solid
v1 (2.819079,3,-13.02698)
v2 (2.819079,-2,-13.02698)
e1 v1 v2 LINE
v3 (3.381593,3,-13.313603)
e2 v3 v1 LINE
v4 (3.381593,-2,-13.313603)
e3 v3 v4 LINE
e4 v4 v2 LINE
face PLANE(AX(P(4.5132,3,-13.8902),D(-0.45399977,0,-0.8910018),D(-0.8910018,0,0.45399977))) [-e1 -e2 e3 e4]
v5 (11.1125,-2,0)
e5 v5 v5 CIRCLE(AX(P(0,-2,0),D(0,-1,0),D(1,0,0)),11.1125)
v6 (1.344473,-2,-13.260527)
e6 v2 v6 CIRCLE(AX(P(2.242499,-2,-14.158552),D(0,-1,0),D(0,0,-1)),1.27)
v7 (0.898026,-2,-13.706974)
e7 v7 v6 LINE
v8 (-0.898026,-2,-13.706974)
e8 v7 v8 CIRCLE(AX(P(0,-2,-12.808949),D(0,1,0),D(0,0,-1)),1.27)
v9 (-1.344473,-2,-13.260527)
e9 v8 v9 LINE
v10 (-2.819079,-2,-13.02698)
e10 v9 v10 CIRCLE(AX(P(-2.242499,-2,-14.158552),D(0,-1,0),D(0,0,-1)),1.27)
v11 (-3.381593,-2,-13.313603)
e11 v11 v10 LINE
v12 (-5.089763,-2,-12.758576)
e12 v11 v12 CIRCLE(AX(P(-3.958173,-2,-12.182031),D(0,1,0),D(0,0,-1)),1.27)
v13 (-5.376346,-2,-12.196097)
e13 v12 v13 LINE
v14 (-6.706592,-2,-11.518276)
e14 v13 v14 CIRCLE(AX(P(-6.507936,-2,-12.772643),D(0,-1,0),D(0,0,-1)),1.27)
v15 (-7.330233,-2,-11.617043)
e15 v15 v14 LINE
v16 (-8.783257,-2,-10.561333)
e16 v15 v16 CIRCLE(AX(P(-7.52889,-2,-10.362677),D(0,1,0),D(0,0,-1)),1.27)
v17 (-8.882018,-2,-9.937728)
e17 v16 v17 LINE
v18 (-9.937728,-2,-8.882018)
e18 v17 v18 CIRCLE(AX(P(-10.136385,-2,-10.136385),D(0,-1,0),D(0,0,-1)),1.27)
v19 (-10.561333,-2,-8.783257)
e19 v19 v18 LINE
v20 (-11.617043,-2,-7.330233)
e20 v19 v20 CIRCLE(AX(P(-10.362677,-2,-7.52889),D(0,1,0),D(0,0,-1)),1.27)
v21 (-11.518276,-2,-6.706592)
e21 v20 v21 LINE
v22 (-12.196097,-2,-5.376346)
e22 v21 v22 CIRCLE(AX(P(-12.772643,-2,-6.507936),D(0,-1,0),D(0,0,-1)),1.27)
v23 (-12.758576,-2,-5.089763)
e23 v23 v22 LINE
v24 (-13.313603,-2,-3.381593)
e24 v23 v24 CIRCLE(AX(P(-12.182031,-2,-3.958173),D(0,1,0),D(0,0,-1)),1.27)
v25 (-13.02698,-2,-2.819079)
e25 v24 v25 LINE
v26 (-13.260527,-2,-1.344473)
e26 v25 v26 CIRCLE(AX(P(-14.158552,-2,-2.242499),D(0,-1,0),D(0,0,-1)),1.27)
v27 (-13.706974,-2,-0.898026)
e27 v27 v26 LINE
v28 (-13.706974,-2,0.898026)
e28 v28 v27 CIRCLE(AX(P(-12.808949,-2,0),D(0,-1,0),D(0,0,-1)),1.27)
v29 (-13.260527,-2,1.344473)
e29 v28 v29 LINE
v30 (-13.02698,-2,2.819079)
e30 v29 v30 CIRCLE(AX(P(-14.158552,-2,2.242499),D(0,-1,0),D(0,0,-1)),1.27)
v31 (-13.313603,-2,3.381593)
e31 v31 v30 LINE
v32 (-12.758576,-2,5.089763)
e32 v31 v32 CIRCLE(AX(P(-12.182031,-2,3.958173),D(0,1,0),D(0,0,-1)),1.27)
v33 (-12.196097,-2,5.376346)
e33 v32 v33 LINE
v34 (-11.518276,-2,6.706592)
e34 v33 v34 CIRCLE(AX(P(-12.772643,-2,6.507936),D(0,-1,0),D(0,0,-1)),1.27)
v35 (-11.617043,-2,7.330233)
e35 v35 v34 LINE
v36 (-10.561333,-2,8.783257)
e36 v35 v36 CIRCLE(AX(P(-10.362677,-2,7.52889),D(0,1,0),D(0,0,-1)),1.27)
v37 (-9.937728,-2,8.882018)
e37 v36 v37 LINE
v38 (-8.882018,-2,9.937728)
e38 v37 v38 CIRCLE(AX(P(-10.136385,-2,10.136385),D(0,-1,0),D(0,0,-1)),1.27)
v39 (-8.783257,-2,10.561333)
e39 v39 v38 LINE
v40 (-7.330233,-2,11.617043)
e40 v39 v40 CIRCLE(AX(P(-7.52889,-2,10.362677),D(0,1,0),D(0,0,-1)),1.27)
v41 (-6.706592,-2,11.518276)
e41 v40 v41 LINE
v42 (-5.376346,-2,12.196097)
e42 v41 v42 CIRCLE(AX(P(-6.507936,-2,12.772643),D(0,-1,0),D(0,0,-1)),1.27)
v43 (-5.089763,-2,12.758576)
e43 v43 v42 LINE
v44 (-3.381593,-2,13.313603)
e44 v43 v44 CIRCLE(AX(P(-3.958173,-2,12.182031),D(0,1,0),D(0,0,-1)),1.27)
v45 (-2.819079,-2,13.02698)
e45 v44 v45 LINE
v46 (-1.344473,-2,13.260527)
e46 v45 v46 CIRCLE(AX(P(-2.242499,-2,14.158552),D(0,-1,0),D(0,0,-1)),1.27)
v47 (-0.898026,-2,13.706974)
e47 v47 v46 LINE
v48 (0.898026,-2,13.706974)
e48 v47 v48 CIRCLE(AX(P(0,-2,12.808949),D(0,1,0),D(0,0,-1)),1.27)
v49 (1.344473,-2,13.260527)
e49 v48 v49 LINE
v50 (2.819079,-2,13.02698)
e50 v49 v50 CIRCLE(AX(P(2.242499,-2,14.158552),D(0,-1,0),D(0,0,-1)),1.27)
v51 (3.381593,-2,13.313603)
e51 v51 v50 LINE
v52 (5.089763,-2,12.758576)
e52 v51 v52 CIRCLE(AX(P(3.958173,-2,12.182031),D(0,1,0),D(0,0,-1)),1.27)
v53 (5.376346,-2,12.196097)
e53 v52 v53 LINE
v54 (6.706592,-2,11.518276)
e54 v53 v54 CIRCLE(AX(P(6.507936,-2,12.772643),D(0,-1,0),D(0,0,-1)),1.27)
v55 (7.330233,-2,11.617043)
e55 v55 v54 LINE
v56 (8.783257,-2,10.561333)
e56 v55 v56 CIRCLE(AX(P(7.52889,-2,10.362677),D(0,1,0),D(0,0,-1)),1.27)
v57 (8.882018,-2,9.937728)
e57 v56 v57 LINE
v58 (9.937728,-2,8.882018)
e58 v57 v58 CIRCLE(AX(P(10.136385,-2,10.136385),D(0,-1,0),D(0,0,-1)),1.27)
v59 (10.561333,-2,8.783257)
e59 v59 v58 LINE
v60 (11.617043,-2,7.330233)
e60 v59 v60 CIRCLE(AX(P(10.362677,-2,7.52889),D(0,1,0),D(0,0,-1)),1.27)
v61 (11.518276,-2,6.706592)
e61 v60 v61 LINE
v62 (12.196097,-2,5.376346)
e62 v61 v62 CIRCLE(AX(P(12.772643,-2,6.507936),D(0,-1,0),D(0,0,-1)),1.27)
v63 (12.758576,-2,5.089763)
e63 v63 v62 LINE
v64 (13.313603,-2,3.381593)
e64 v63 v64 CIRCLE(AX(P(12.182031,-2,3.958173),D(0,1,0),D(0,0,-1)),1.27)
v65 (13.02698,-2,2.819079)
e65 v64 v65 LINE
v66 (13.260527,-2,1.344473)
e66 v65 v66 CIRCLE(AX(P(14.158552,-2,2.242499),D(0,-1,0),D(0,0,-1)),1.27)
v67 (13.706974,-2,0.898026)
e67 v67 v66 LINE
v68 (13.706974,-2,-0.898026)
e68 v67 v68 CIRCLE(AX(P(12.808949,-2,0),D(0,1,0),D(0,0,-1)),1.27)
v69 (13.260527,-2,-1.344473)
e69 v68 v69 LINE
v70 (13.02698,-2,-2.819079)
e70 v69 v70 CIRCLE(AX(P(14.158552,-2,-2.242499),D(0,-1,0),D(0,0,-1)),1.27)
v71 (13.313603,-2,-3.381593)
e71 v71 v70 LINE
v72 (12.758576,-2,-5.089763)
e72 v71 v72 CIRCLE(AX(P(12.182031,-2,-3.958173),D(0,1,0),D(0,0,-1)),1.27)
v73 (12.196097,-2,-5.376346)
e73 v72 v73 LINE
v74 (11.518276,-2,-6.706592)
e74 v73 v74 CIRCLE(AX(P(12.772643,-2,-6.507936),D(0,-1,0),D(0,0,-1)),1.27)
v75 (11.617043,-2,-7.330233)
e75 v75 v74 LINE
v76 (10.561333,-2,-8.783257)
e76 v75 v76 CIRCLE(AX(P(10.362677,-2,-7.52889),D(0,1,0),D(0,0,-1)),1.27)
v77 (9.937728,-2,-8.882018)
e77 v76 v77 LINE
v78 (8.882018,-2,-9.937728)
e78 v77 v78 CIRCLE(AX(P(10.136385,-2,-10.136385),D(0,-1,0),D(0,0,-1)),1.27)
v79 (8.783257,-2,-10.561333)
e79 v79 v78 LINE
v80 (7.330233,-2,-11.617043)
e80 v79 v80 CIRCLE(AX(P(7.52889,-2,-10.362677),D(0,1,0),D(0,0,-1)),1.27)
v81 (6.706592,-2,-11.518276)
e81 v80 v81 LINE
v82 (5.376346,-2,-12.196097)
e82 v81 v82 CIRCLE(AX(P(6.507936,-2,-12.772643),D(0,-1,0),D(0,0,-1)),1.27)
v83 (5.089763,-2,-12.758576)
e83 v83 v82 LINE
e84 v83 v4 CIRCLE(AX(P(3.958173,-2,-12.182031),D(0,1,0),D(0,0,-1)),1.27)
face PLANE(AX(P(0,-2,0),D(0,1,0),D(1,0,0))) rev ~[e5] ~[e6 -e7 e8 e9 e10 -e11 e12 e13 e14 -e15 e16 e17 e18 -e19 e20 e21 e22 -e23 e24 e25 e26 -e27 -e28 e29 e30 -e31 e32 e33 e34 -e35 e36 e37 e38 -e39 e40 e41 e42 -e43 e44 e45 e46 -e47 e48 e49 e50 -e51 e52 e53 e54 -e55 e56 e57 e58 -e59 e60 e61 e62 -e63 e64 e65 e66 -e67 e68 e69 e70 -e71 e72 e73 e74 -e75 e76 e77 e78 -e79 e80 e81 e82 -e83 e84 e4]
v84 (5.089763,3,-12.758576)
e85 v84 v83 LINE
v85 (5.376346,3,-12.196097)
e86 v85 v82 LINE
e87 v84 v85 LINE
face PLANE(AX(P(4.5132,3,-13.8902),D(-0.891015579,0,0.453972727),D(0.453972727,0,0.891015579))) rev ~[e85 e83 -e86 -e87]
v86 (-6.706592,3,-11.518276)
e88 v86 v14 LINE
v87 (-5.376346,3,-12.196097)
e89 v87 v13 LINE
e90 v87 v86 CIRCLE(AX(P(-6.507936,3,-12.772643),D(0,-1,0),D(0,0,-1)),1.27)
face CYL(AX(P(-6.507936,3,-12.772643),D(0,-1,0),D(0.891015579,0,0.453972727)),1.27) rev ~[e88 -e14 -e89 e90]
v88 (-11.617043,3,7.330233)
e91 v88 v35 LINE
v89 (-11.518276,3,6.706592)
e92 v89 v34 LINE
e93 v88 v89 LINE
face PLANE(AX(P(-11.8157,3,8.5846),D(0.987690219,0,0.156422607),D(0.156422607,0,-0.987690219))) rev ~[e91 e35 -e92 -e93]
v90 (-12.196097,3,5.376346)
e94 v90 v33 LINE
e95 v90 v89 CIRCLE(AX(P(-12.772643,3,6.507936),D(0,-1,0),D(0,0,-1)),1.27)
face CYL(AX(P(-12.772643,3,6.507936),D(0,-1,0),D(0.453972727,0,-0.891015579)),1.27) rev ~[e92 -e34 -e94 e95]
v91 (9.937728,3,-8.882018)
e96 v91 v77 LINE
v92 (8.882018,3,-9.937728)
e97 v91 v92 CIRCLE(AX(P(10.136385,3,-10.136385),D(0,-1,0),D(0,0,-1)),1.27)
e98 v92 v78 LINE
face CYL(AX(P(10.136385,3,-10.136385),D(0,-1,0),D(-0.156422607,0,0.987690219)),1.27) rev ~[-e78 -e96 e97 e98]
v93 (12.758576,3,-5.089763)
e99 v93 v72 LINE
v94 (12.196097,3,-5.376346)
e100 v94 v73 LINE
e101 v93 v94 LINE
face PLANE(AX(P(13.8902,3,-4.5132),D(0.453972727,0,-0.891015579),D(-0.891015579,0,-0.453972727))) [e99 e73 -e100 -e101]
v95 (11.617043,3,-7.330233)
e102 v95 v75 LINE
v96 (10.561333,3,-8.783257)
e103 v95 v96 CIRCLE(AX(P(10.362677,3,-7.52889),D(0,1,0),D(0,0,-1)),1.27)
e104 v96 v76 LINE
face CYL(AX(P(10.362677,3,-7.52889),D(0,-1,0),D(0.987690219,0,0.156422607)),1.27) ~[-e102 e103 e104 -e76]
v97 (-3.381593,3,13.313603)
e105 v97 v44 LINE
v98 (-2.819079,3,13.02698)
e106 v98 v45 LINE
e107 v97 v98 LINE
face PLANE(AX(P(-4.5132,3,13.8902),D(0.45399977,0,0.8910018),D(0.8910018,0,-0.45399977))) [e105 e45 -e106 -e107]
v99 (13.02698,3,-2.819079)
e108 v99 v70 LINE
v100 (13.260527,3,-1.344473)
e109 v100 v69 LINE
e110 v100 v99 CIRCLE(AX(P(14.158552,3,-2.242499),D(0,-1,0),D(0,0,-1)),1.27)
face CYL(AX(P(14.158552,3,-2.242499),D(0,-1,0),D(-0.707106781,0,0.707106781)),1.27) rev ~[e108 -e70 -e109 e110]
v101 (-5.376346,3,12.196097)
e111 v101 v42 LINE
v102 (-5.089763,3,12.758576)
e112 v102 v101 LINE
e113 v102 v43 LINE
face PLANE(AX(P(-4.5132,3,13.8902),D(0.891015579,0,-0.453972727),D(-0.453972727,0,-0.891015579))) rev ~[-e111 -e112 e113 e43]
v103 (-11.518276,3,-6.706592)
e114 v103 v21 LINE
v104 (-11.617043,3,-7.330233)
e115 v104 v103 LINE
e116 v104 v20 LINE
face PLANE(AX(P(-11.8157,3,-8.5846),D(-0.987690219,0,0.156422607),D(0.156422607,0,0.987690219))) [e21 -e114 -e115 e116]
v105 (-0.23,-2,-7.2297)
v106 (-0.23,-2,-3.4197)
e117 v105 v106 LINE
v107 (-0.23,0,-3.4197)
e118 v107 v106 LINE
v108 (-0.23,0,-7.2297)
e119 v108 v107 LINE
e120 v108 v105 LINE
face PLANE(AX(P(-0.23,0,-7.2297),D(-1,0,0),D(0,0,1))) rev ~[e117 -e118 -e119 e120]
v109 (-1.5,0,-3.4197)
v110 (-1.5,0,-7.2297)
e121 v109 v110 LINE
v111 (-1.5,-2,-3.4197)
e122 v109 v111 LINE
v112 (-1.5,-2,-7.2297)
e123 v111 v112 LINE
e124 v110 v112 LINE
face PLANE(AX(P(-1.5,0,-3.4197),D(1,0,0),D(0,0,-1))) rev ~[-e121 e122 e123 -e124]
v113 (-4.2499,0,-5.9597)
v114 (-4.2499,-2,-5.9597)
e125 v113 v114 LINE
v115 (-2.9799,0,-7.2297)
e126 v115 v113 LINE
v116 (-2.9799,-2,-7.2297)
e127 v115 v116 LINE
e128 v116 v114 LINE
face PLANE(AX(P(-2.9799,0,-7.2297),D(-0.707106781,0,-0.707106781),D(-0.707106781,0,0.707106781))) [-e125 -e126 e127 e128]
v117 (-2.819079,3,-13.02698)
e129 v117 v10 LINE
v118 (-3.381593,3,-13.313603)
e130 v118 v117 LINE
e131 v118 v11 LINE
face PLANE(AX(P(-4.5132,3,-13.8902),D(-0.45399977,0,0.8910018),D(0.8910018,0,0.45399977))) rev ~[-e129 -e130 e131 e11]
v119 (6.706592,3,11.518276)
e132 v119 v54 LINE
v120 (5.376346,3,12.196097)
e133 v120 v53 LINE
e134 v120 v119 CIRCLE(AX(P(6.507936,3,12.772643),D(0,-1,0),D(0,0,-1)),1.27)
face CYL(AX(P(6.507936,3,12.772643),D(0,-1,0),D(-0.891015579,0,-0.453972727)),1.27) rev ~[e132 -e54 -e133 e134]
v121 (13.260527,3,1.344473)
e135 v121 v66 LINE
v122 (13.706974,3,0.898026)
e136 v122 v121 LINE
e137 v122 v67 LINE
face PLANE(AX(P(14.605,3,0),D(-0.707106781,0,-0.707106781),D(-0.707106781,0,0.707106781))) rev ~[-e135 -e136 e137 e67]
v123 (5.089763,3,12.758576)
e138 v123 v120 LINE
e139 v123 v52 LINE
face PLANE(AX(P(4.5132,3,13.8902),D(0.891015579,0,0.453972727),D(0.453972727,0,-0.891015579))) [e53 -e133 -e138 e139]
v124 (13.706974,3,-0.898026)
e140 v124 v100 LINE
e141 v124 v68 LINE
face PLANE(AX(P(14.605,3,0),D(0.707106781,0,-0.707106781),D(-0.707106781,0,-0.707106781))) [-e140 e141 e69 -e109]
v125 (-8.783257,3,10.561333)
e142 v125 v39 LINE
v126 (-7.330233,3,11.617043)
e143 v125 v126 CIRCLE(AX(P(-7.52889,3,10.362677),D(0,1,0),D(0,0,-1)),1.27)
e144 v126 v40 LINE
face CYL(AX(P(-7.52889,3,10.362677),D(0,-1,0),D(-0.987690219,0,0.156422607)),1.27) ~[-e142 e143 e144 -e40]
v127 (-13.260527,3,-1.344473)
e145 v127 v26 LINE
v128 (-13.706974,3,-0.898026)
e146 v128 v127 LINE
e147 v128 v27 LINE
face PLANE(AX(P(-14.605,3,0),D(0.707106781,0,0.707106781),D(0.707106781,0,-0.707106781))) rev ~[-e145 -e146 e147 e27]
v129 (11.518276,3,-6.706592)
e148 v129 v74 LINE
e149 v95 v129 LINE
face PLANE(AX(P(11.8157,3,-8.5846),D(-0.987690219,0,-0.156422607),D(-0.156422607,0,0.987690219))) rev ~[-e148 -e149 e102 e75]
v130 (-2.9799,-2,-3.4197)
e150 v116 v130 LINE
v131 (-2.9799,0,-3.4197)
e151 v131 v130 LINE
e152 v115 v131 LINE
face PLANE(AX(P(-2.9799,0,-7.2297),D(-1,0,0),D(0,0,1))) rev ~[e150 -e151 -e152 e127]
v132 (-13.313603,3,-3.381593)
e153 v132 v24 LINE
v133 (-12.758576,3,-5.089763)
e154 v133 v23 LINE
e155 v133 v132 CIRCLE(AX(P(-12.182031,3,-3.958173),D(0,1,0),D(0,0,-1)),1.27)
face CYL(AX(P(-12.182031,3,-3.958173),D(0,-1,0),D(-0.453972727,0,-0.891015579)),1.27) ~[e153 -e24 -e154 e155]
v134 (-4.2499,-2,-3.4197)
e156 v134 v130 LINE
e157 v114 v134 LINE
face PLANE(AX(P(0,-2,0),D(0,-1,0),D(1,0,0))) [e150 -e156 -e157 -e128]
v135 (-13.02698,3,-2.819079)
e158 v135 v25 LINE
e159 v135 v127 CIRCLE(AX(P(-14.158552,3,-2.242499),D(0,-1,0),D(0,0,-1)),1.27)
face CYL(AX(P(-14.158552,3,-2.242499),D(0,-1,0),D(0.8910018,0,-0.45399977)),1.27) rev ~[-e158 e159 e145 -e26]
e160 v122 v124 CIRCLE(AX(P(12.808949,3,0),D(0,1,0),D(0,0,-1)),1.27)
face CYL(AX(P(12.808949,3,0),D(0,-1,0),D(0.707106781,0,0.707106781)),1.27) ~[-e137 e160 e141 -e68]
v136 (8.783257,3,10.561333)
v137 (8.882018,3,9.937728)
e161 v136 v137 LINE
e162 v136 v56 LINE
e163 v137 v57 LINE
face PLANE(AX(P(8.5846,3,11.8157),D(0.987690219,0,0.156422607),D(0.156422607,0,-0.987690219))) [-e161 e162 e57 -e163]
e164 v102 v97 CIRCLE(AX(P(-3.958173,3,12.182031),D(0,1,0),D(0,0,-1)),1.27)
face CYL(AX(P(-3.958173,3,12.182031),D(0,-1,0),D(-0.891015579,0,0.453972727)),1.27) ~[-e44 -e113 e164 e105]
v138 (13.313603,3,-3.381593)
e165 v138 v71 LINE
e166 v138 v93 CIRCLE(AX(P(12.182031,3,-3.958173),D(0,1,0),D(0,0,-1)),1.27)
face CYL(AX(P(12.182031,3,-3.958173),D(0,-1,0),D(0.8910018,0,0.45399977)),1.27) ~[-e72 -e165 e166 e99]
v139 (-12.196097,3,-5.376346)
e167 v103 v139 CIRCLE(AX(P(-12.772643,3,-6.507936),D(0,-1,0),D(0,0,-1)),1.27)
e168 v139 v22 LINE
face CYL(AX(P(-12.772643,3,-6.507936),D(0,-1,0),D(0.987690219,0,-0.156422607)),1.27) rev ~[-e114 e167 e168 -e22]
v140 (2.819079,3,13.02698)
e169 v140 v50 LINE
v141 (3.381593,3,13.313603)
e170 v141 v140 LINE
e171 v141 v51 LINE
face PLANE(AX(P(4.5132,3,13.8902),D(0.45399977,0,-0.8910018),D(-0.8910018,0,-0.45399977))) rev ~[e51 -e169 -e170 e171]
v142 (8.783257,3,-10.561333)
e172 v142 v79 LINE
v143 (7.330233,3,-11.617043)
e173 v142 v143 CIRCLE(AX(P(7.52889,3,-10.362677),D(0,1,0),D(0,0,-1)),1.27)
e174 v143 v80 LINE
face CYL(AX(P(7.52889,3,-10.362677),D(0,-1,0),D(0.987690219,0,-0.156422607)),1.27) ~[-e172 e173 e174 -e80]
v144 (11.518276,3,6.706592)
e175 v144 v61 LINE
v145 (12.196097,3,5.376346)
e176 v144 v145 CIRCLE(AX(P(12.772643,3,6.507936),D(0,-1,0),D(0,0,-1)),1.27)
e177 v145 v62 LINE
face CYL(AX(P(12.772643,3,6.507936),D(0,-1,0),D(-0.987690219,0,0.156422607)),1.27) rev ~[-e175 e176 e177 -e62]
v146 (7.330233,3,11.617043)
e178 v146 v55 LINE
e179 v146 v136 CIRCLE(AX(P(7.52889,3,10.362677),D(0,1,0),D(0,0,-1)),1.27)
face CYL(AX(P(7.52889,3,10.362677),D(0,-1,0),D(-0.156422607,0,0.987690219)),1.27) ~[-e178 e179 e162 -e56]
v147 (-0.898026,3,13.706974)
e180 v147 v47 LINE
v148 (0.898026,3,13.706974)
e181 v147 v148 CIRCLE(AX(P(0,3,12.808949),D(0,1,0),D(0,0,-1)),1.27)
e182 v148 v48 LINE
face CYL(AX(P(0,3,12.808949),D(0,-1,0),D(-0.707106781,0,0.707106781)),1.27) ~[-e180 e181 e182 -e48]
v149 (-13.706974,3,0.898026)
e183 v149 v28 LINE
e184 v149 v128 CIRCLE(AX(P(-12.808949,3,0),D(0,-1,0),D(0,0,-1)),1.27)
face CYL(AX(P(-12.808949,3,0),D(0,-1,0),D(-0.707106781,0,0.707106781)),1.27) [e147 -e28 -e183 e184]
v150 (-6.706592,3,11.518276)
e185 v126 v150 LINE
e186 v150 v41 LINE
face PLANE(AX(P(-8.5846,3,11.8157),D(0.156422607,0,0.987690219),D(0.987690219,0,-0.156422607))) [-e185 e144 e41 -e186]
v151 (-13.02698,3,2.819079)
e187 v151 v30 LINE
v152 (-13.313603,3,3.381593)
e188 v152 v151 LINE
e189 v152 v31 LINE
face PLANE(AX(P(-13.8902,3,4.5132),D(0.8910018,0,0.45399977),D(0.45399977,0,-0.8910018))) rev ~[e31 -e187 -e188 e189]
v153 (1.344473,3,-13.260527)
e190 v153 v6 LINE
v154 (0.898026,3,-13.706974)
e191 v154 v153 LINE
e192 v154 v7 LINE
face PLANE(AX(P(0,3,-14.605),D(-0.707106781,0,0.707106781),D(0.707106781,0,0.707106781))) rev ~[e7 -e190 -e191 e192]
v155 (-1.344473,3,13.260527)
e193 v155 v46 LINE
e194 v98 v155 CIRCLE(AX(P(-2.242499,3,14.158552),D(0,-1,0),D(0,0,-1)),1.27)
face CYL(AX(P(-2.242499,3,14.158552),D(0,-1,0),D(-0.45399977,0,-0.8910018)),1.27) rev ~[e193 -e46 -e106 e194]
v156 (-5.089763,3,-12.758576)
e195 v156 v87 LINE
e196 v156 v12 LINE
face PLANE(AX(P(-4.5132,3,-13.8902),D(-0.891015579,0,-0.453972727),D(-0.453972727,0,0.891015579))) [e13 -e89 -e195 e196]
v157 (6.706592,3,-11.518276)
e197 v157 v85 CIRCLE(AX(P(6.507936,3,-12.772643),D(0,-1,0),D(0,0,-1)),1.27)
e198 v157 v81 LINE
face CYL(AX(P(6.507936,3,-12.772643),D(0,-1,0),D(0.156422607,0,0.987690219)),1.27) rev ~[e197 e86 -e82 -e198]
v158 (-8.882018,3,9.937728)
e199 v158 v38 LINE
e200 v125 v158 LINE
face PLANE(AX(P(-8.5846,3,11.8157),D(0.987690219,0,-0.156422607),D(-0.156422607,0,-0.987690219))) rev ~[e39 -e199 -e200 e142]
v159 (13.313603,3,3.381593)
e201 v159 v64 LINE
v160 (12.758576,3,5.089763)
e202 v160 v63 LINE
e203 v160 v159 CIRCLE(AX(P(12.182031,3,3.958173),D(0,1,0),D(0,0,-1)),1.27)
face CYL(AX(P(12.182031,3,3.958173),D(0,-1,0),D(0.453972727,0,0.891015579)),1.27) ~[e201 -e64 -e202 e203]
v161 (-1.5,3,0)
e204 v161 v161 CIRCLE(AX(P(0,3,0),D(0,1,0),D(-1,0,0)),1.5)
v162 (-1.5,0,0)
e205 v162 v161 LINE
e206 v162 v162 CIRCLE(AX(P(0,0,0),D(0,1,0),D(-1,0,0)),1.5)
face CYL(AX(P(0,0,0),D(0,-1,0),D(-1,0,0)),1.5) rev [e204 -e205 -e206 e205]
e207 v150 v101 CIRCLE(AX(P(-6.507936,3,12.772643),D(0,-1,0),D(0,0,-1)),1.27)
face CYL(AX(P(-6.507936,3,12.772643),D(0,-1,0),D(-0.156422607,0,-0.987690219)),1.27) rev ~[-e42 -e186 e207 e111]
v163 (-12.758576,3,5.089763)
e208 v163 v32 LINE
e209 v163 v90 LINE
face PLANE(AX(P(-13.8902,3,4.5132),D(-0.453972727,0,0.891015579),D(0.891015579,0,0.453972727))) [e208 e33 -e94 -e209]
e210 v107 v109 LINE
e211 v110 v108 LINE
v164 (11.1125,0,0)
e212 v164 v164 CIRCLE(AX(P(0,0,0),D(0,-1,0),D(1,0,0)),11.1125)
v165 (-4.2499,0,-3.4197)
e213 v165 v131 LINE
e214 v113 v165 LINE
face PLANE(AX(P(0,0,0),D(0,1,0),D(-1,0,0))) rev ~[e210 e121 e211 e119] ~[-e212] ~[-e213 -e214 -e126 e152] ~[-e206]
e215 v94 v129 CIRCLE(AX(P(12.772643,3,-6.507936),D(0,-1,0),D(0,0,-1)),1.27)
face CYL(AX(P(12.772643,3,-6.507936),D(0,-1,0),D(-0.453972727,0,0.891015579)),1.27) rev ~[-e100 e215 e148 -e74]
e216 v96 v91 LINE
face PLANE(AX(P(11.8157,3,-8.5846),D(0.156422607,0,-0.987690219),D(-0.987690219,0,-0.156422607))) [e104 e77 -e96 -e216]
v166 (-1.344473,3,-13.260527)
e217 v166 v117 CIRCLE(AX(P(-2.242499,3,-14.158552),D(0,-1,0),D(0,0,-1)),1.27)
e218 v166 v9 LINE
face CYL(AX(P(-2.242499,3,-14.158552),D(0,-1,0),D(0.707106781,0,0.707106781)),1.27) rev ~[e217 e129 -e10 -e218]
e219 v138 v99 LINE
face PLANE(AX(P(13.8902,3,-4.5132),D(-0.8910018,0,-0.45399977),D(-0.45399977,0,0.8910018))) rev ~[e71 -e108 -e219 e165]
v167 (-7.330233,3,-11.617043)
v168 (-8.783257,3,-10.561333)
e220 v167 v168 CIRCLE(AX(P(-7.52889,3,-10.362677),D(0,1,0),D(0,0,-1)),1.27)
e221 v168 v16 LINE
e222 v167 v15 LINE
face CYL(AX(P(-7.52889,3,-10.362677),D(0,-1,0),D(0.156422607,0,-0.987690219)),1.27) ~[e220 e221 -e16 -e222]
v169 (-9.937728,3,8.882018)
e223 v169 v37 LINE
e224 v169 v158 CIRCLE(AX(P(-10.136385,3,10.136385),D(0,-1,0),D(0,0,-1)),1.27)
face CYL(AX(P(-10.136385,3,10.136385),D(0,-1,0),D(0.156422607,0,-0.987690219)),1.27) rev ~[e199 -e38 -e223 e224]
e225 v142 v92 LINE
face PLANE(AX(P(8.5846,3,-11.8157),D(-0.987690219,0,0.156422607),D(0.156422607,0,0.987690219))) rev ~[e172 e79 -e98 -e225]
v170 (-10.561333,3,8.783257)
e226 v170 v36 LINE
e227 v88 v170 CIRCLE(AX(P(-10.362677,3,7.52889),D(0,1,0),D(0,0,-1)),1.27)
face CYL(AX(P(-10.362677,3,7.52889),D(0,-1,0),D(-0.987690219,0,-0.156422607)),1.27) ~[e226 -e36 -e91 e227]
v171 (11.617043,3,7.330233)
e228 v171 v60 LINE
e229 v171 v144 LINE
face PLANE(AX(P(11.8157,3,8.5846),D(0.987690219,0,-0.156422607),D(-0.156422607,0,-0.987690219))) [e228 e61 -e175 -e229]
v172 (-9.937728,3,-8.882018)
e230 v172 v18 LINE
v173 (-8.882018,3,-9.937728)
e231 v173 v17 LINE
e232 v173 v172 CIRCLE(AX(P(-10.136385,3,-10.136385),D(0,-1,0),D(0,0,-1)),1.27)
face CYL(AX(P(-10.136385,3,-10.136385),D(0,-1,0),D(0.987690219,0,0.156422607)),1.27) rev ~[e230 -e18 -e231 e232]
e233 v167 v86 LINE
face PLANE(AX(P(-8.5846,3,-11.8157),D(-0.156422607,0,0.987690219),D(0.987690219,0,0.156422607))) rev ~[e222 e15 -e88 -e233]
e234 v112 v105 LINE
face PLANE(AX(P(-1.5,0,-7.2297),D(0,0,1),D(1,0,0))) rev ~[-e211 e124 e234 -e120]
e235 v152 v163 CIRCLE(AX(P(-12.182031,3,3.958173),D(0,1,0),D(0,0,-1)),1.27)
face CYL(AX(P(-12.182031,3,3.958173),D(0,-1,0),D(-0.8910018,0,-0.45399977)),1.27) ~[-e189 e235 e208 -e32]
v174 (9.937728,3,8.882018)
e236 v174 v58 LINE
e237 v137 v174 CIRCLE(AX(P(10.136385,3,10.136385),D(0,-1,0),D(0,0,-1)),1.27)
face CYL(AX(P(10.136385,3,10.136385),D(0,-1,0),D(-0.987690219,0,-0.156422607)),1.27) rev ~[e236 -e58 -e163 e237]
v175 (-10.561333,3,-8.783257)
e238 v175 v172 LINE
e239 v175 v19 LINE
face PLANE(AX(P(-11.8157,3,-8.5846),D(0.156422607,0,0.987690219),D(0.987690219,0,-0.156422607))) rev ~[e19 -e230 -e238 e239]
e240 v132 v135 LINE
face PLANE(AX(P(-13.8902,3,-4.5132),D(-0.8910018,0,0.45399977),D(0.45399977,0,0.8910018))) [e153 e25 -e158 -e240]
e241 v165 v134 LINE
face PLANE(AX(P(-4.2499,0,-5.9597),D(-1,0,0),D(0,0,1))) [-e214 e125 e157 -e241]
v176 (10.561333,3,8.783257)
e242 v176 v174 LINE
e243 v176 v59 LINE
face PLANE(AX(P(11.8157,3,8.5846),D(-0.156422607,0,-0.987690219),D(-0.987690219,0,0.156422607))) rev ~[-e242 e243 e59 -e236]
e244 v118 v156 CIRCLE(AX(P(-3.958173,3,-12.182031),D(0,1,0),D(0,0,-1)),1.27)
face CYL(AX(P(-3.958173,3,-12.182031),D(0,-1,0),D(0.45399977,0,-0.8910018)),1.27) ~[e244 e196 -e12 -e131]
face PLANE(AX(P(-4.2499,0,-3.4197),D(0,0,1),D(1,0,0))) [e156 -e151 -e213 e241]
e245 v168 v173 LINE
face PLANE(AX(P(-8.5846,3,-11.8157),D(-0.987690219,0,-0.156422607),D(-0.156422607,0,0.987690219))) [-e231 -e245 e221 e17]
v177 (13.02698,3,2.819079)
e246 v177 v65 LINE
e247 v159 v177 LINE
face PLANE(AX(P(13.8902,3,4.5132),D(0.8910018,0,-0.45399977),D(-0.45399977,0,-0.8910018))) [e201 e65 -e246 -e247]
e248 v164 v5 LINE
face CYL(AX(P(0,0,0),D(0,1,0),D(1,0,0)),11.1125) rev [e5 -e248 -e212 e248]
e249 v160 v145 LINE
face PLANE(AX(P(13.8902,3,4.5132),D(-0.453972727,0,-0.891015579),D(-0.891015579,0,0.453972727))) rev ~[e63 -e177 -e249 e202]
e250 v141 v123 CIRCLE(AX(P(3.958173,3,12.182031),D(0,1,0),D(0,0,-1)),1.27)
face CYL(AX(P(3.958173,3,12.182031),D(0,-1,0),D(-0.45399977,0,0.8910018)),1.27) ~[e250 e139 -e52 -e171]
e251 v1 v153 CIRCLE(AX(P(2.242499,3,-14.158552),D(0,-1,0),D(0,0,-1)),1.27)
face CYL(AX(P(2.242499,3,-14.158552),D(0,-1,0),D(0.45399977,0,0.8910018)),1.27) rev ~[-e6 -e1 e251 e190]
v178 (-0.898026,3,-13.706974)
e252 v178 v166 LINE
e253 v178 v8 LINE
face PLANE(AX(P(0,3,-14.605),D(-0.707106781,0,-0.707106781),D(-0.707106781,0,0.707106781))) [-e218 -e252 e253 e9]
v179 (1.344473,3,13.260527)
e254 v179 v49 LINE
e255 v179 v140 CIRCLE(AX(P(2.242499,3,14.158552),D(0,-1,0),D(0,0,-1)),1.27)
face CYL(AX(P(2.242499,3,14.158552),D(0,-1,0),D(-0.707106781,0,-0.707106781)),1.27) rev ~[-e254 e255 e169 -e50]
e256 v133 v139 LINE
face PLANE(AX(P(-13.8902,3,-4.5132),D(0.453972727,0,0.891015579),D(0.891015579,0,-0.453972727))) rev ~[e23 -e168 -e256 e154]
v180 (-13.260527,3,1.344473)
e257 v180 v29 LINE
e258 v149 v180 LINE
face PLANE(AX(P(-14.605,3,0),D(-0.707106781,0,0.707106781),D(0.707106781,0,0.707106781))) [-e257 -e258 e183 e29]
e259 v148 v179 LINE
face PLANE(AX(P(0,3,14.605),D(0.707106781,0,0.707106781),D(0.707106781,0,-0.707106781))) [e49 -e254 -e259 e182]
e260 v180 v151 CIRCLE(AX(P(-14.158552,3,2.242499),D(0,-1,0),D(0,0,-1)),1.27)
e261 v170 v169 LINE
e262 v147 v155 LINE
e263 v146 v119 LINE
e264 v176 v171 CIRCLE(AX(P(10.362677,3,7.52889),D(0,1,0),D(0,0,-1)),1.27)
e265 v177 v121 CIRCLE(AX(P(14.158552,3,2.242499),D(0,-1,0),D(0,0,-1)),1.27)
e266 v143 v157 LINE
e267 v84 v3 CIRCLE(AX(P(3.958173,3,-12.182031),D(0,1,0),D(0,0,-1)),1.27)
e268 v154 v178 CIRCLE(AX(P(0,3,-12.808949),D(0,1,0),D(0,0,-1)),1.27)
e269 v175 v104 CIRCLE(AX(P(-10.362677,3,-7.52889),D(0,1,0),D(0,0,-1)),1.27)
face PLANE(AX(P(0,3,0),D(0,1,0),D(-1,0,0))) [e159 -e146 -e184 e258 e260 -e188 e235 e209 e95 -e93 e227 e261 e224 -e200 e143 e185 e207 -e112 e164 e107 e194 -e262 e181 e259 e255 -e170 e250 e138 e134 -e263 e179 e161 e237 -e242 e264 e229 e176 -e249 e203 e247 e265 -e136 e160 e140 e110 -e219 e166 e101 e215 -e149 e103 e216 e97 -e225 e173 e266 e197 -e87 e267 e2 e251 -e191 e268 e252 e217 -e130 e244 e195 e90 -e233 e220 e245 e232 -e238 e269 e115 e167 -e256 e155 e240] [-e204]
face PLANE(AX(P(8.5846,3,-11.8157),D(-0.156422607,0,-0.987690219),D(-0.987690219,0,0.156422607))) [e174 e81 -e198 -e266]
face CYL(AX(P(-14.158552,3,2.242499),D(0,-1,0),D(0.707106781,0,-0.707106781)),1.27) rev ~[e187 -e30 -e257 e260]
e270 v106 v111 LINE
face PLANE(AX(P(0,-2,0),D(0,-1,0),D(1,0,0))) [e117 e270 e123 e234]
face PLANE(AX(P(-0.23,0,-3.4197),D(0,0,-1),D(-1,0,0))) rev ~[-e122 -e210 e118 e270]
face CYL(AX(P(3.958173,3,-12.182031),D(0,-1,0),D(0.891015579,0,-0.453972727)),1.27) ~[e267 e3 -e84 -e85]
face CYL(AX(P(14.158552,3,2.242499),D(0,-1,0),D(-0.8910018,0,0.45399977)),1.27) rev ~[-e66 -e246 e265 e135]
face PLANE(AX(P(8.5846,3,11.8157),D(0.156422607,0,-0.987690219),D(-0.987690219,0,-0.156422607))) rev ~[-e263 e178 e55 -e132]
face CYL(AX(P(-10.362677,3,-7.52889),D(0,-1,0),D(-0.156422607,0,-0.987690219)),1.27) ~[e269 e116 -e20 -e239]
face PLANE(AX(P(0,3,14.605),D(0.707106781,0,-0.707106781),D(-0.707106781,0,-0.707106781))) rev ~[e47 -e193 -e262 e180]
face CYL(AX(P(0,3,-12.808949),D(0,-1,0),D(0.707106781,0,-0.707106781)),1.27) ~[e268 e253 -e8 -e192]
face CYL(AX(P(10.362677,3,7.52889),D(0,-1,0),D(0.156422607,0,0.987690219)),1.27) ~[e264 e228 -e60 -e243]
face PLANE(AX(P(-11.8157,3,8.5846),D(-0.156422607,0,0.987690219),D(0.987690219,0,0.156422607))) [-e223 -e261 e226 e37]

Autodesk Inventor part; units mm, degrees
ref_plane "YZ Plane" through (0, 0, 0) normal (1, 0, 0) x (0, 1, 0)
ref_plane "XZ Plane" through (0, 0, 0) normal (0, 1, 0) x (-1, 0, 0)
ref_plane "XY Plane" through (0, 0, 0) normal (0, 0, 1) x (1, 0, 0)
sketch "Sketch1" plane through (0, 0, 0) normal (0, 1, 0) x (-1, 0, 0)
  circle A0 centre (0, 0) radius 1.5
  circle A1 centre (0, 0) radius 12.7
  dimension "d0" = 3
  dimension "d1" = 25.4
extrude "Extrusion1" add sketch "Sketch1" along normal blind 3
sketch "Sketch3" plane through (0, 0, 0) normal (0, -1, 0) x (1, 0, 0)
  circle A0 centre (0, 0) radius 11.1125
  circle A1 centre (0, 0) radius 12.7 projected
  circle A2 centre (0, 0) radius 1.5 projected
  circle A3 centre (0, 0) radius 12.7 projected
  circle A4 centre (0, 0) radius 1.5 projected
  circle A5 centre (0, 0) radius 12.7
  dimension "d14" = 22.225
extrude "Extrusion3" add sketch "Sketch3" along normal blind 2 contours A1
sketch "Sketch4" plane through (0, 0, 0) normal (0, -1, 0) x (1, 0, 0)
  circle A0 centre (0, 0) radius 1.5 projected
  circle A1 centre (0, 0) radius 1.5 projected
  line L0 (-1.4799, -0.2447) -> (-2.9799, -0.2447)
  line L1 (-2.9799, -0.2447) -> (-1.5, -0.2447)
  line L2 (-1.5, -0.2447) -> (-1.5, 7.3753)
  line L3 (-1.5, 7.3753) -> (-2.9799, 7.3753)
  line L4 (-2.9799, 7.3753) -> (-2.9799, -0.2447)
  line L5 (-2.9799, 7.3753) -> (-4.2499, 7.3753)
  line L6 (-4.2499, 7.3753) -> (-4.2499, 3.5653)
  line L7 (-4.2499, 3.5653) -> (-2.9799, 3.5653)
  line L8 (-2.9799, 3.5653) -> (-2.9799, 7.3753)
  line L9 (-1.5, 7.3753) -> (-0.23, 7.3753)
  line L10 (-0.23, 7.3753) -> (-0.23, 3.5653)
  line L11 (-0.23, 3.5653) -> (-1.5, 3.5653)
  line L12 (-1.5, 3.5653) -> (-1.5, 7.3753)
  line L13 (-2.9799, -0.2447) -> (-1.5, -0.2447)
  line L14 (-1.5, -0.2447) -> (-1.5, -7.2297)
  line L15 (-1.5, -7.2297) -> (-2.9799, -7.2297)
  line L16 (-2.9799, -7.2297) -> (-2.9799, -0.2447)
  line L17 (-2.9799, -7.2297) -> (-4.2499, -7.2297)
  line L18 (-4.2499, -7.2297) -> (-4.2499, -3.4197)
  line L19 (-4.2499, -3.4197) -> (-2.9799, -3.4197)
  line L20 (-2.9799, -3.4197) -> (-2.9799, -7.2297)
  line L21 (-1.5, -7.2297) -> (-0.23, -7.2297)
  line L22 (-0.23, -7.2297) -> (-0.23, -3.4197)
  line L23 (-0.23, -3.4197) -> (-1.5, -3.4197)
  line L24 (-1.5, -3.4197) -> (-1.5, -7.2297)
  line L25 (-2.9799, -7.2297) -> (-4.2499, -5.9597)
  line L26 (-2.9799, -7.2297) -> (-1.1839, -7.2297) construction
  point P0 (-2.9799, 3.5653)
  point P1 (-2.9799, -3.4197)
  dimension "d17" = 1.5
  dimension "d18" = 7.62
  dimension "d19" = 1.27
  dimension "d20" = 3.81
  dimension "d21" = 1.27
  dimension "d22" = 3.81
  dimension "d37" = 6.985
  dimension "d38" = 1.27
  dimension "d39" = 3.81
  dimension "d40" = 1.27
  dimension "d41" = 135
extrude "Extrusion4" add sketch "Sketch4" along normal blind 2 contours L23 L22 L21 L14 | L16 L25 L18 L19
sketch "Sketch5" plane through (0, 3, 0) normal (0, 1, 0) x (1, 0, 0)
  circle A0 centre (0, 0) radius 12.7 projected
  circle A1 centre (0, 0) radius 1.5 projected
  circle A2 centre (0, 0) radius 12.7 projected
  line L0 (0, 12.7) -> (0, 14.605)
  line L1 (0, 14.605) -> (2.0758, 12.5292)
  line L2 (0, 14.605) -> (-2.0758, 12.5292)
  line L3 (0, 14.605) -> (2.9356, 14.605) construction
  line L4 (-4.5132, 13.8902) -> (-1.8975, 12.5574)
  line L5 (-3.9245, 12.0784) -> (-4.5132, 13.8902)
  line L6 (-4.5132, 13.8902) -> (-5.8459, 11.2745)
  line L7 (-8.5846, 11.8157) -> (-5.6851, 11.3565)
  line L8 (-7.4649, 10.2745) -> (-8.5846, 11.8157)
  line L9 (-8.5846, 11.8157) -> (-9.0438, 8.9162)
  line L10 (-11.8157, 8.5846) -> (-8.9162, 9.0438)
  line L11 (-10.2745, 7.4649) -> (-11.8157, 8.5846)
  line L12 (-11.8157, 8.5846) -> (-11.3565, 5.6851)
  line L13 (-13.8902, 4.5132) -> (-11.2745, 5.8459)
  line L14 (-12.0784, 3.9245) -> (-13.8902, 4.5132)
  line L15 (-13.8902, 4.5132) -> (-12.5574, 1.8975)
  line L16 (-14.605, 0) -> (-12.5292, 2.0758)
  line L17 (-12.7, 0) -> (-14.605, 0)
  line L18 (-14.605, 0) -> (-12.5292, -2.0758)
  line L19 (-13.8902, -4.5132) -> (-12.5574, -1.8975)
  line L20 (-12.0784, -3.9245) -> (-13.8902, -4.5132)
  line L21 (-13.8902, -4.5132) -> (-11.2745, -5.8459)
  line L22 (-11.8157, -8.5846) -> (-11.3565, -5.6851)
  line L23 (-10.2745, -7.4649) -> (-11.8157, -8.5846)
  line L24 (-11.8157, -8.5846) -> (-8.9162, -9.0438)
  line L25 (-8.5846, -11.8157) -> (-9.0438, -8.9162)
  line L26 (-7.4649, -10.2745) -> (-8.5846, -11.8157)
  line L27 (-8.5846, -11.8157) -> (-5.6851, -11.3565)
  line L28 (-4.5132, -13.8902) -> (-5.8459, -11.2745)
  line L29 (-3.9245, -12.0784) -> (-4.5132, -13.8902)
  line L30 (-4.5132, -13.8902) -> (-1.8975, -12.5574)
  line L31 (0, -14.605) -> (-2.0758, -12.5292)
  line L32 (0, -12.7) -> (0, -14.605)
  line L33 (0, -14.605) -> (2.0758, -12.5292)
  line L34 (4.5132, -13.8902) -> (1.8975, -12.5574)
  line L35 (3.9245, -12.0784) -> (4.5132, -13.8902)
  line L36 (4.5132, -13.8902) -> (5.8459, -11.2745)
  line L37 (8.5846, -11.8157) -> (5.6851, -11.3565)
  line L38 (7.4649, -10.2745) -> (8.5846, -11.8157)
  line L39 (8.5846, -11.8157) -> (9.0438, -8.9162)
  line L40 (11.8157, -8.5846) -> (8.9162, -9.0438)
  line L41 (10.2745, -7.4649) -> (11.8157, -8.5846)
  line L42 (11.8157, -8.5846) -> (11.3565, -5.6851)
  line L43 (13.8902, -4.5132) -> (11.2745, -5.8459)
  line L44 (12.0784, -3.9245) -> (13.8902, -4.5132)
  line L45 (13.8902, -4.5132) -> (12.5574, -1.8975)
  line L46 (14.605, 0) -> (12.5292, -2.0758)
  line L47 (12.7, 0) -> (14.605, 0)
  line L48 (14.605, 0) -> (12.5292, 2.0758)
  line L49 (13.8902, 4.5132) -> (12.5574, 1.8975)
  line L50 (12.0784, 3.9245) -> (13.8902, 4.5132)
  line L51 (13.8902, 4.5132) -> (11.2745, 5.8459)
  line L52 (11.8157, 8.5846) -> (11.3565, 5.6851)
  line L53 (10.2745, 7.4649) -> (11.8157, 8.5846)
  line L54 (11.8157, 8.5846) -> (8.9162, 9.0438)
  line L55 (8.5846, 11.8157) -> (9.0438, 8.9162)
  line L56 (7.4649, 10.2745) -> (8.5846, 11.8157)
  line L57 (8.5846, 11.8157) -> (5.6851, 11.3565)
  line L58 (4.5132, 13.8902) -> (5.8459, 11.2745)
  line L59 (3.9245, 12.0784) -> (4.5132, 13.8902)
  line L60 (4.5132, 13.8902) -> (1.8975, 12.5574)
  point P0 (-1.9969, 12.6081)
  point P1 (-5.7953, 11.3739)
  point P2 (-9.0264, 9.0264)
  point P3 (-11.3739, 5.7953)
  point P4 (-12.6081, 1.9969)
  point P5 (-12.6081, -1.9969)
  point P6 (-11.3739, -5.7953)
  point P7 (-9.0264, -9.0264)
  point P8 (-5.7953, -11.3739)
  point P9 (-1.9969, -12.6081)
  point P10 (1.9969, -12.6081)
  point P11 (5.7953, -11.3739)
  point P12 (9.0264, -9.0264)
  point P13 (11.3739, -5.7953)
  point P14 (12.6081, -1.9969)
  point P15 (12.6081, 1.9969)
  point P16 (11.3739, 5.7953)
  point P17 (9.0264, 9.0264)
  point P18 (5.7953, 11.3739)
  point P19 (1.9969, 12.6081)
  dimension "d28" = 1.905
  dimension "d29" = 45
  dimension "d30" = 135
  dimension "d33" = 360
extrude "Extrusion5" add sketch "Sketch5" against normal up to surface (5 mm away) contours L47 L46 L45 A0 | A0 L49 L48 L47 | A0 L48 L49 | L45 L46 A0 | A0 L50 L49 L48 | L46 L45 L44 A0 | A0 L52 L51 L50 | L44 L43 L42 A0 | A0 L51 L52 | L51 A0 L53 L52 | L42 L43 A0 | L42 L41 A0 L43 | L53 A0 L55 L54 | L40 L39 A0 L41 | L55 A0 L54 | L54 A0 L56 L55 | L40 A0 L39 | L39 L38 A0 L40 | L56 A0 L58 L57 | L37 L36 A0 L38 | L58 A0 L57 | L57 A0 L59 L58 | L37 A0 L36 | L36 L35 A0 L37 | L59 A0 L1 L60 | L34 L33 A0 L35 | L60 A0 L0 L1 | L1 A0 L60 | L34 A0 L33 | L33 L32 A0 L34 | L0 A0 L4 L2 | L31 L30 A0 L32 | L4 A0 L2 | L2 A0 L5 L4 | L31 A0 L30 | L30 L29 A0 L31 | L5 A0 L7 L6 | L28 L27 A0 L29 | L7 A0 L6 | L6 A0 L8 L7 | L28 A0 L27 | L27 L26 A0 L28 | L8 A0 L10 L9 | L25 L24 A0 L26 | L10 A0 L9 | L9 A0 L11 L10 | L25 A0 L24 | L24 L23 A0 L25 | L11 A0 L13 L12 | L22 L21 A0 L23 | L13 A0 L12 | L12 A0 L14 L13 | L22 A0 L21 | L21 L20 A0 L22 | L14 A0 L16 L15 | L19 L18 A0 L20 | L16 A0 L15 | L15 A0 L17 L16 | L19 A0 L18 | L18 L17 A0 L19
fillet "Fillet1" radius 1.27 40 edges at (11.8157, 0.5, 8.5846) (8.5846, 0.5, 11.8157) (4.5132, 0.5, 13.8902) (0, 0.5, 14.605) (-4.5132, 0.5, 13.8902) (-8.5846, 0.5, 11.8157) (-11.8157, 0.5, 8.5846) (-13.8902, 0.5, 4.5132) (-14.605, 0.5, 0) (-13.8902, 0.5, -4.5132) (-11.8157, 0.5, -8.5846) (-8.5846, 0.5, -11.8157) (-4.5132, 0.5, -13.8902) (0, 0.5, -14.605) (4.5132, 0.5, -13.8902) (8.5846, 0.5, -11.8157) (11.8157, 0.5, -8.5846) (9.0264, 0.5, -9.0264) (13.8902, 0.5, -4.5132) (14.605, 0.5, 0) (13.8902, 0.5, 4.5132) (11.3739, 0.5, -5.7953) (12.6081, 0.5, -1.9969) (12.6081, 0.5, 1.9969) (11.3739, 0.5, 5.7953) (9.0264, 0.5, 9.0264) (5.7953, 0.5, 11.3739) (1.9969, 0.5, 12.6081) (-1.9969, 0.5, 12.6081) (-5.7953, 0.5, 11.3739) (-9.0264, 0.5, 9.0264) (-11.3739, 0.5, 5.7953) (-12.6081, 0.5, 1.9969) (-12.6081, 0.5, -1.9969) (-11.3739, 0.5, -5.7953) (-9.0264, 0.5, -9.0264) (-5.7953, 0.5, -11.3739) (-1.9969, 0.5, -12.6081) (1.9969, 0.5, -12.6081) (5.7953, 0.5, -11.3739)
properties part number "Knob"
